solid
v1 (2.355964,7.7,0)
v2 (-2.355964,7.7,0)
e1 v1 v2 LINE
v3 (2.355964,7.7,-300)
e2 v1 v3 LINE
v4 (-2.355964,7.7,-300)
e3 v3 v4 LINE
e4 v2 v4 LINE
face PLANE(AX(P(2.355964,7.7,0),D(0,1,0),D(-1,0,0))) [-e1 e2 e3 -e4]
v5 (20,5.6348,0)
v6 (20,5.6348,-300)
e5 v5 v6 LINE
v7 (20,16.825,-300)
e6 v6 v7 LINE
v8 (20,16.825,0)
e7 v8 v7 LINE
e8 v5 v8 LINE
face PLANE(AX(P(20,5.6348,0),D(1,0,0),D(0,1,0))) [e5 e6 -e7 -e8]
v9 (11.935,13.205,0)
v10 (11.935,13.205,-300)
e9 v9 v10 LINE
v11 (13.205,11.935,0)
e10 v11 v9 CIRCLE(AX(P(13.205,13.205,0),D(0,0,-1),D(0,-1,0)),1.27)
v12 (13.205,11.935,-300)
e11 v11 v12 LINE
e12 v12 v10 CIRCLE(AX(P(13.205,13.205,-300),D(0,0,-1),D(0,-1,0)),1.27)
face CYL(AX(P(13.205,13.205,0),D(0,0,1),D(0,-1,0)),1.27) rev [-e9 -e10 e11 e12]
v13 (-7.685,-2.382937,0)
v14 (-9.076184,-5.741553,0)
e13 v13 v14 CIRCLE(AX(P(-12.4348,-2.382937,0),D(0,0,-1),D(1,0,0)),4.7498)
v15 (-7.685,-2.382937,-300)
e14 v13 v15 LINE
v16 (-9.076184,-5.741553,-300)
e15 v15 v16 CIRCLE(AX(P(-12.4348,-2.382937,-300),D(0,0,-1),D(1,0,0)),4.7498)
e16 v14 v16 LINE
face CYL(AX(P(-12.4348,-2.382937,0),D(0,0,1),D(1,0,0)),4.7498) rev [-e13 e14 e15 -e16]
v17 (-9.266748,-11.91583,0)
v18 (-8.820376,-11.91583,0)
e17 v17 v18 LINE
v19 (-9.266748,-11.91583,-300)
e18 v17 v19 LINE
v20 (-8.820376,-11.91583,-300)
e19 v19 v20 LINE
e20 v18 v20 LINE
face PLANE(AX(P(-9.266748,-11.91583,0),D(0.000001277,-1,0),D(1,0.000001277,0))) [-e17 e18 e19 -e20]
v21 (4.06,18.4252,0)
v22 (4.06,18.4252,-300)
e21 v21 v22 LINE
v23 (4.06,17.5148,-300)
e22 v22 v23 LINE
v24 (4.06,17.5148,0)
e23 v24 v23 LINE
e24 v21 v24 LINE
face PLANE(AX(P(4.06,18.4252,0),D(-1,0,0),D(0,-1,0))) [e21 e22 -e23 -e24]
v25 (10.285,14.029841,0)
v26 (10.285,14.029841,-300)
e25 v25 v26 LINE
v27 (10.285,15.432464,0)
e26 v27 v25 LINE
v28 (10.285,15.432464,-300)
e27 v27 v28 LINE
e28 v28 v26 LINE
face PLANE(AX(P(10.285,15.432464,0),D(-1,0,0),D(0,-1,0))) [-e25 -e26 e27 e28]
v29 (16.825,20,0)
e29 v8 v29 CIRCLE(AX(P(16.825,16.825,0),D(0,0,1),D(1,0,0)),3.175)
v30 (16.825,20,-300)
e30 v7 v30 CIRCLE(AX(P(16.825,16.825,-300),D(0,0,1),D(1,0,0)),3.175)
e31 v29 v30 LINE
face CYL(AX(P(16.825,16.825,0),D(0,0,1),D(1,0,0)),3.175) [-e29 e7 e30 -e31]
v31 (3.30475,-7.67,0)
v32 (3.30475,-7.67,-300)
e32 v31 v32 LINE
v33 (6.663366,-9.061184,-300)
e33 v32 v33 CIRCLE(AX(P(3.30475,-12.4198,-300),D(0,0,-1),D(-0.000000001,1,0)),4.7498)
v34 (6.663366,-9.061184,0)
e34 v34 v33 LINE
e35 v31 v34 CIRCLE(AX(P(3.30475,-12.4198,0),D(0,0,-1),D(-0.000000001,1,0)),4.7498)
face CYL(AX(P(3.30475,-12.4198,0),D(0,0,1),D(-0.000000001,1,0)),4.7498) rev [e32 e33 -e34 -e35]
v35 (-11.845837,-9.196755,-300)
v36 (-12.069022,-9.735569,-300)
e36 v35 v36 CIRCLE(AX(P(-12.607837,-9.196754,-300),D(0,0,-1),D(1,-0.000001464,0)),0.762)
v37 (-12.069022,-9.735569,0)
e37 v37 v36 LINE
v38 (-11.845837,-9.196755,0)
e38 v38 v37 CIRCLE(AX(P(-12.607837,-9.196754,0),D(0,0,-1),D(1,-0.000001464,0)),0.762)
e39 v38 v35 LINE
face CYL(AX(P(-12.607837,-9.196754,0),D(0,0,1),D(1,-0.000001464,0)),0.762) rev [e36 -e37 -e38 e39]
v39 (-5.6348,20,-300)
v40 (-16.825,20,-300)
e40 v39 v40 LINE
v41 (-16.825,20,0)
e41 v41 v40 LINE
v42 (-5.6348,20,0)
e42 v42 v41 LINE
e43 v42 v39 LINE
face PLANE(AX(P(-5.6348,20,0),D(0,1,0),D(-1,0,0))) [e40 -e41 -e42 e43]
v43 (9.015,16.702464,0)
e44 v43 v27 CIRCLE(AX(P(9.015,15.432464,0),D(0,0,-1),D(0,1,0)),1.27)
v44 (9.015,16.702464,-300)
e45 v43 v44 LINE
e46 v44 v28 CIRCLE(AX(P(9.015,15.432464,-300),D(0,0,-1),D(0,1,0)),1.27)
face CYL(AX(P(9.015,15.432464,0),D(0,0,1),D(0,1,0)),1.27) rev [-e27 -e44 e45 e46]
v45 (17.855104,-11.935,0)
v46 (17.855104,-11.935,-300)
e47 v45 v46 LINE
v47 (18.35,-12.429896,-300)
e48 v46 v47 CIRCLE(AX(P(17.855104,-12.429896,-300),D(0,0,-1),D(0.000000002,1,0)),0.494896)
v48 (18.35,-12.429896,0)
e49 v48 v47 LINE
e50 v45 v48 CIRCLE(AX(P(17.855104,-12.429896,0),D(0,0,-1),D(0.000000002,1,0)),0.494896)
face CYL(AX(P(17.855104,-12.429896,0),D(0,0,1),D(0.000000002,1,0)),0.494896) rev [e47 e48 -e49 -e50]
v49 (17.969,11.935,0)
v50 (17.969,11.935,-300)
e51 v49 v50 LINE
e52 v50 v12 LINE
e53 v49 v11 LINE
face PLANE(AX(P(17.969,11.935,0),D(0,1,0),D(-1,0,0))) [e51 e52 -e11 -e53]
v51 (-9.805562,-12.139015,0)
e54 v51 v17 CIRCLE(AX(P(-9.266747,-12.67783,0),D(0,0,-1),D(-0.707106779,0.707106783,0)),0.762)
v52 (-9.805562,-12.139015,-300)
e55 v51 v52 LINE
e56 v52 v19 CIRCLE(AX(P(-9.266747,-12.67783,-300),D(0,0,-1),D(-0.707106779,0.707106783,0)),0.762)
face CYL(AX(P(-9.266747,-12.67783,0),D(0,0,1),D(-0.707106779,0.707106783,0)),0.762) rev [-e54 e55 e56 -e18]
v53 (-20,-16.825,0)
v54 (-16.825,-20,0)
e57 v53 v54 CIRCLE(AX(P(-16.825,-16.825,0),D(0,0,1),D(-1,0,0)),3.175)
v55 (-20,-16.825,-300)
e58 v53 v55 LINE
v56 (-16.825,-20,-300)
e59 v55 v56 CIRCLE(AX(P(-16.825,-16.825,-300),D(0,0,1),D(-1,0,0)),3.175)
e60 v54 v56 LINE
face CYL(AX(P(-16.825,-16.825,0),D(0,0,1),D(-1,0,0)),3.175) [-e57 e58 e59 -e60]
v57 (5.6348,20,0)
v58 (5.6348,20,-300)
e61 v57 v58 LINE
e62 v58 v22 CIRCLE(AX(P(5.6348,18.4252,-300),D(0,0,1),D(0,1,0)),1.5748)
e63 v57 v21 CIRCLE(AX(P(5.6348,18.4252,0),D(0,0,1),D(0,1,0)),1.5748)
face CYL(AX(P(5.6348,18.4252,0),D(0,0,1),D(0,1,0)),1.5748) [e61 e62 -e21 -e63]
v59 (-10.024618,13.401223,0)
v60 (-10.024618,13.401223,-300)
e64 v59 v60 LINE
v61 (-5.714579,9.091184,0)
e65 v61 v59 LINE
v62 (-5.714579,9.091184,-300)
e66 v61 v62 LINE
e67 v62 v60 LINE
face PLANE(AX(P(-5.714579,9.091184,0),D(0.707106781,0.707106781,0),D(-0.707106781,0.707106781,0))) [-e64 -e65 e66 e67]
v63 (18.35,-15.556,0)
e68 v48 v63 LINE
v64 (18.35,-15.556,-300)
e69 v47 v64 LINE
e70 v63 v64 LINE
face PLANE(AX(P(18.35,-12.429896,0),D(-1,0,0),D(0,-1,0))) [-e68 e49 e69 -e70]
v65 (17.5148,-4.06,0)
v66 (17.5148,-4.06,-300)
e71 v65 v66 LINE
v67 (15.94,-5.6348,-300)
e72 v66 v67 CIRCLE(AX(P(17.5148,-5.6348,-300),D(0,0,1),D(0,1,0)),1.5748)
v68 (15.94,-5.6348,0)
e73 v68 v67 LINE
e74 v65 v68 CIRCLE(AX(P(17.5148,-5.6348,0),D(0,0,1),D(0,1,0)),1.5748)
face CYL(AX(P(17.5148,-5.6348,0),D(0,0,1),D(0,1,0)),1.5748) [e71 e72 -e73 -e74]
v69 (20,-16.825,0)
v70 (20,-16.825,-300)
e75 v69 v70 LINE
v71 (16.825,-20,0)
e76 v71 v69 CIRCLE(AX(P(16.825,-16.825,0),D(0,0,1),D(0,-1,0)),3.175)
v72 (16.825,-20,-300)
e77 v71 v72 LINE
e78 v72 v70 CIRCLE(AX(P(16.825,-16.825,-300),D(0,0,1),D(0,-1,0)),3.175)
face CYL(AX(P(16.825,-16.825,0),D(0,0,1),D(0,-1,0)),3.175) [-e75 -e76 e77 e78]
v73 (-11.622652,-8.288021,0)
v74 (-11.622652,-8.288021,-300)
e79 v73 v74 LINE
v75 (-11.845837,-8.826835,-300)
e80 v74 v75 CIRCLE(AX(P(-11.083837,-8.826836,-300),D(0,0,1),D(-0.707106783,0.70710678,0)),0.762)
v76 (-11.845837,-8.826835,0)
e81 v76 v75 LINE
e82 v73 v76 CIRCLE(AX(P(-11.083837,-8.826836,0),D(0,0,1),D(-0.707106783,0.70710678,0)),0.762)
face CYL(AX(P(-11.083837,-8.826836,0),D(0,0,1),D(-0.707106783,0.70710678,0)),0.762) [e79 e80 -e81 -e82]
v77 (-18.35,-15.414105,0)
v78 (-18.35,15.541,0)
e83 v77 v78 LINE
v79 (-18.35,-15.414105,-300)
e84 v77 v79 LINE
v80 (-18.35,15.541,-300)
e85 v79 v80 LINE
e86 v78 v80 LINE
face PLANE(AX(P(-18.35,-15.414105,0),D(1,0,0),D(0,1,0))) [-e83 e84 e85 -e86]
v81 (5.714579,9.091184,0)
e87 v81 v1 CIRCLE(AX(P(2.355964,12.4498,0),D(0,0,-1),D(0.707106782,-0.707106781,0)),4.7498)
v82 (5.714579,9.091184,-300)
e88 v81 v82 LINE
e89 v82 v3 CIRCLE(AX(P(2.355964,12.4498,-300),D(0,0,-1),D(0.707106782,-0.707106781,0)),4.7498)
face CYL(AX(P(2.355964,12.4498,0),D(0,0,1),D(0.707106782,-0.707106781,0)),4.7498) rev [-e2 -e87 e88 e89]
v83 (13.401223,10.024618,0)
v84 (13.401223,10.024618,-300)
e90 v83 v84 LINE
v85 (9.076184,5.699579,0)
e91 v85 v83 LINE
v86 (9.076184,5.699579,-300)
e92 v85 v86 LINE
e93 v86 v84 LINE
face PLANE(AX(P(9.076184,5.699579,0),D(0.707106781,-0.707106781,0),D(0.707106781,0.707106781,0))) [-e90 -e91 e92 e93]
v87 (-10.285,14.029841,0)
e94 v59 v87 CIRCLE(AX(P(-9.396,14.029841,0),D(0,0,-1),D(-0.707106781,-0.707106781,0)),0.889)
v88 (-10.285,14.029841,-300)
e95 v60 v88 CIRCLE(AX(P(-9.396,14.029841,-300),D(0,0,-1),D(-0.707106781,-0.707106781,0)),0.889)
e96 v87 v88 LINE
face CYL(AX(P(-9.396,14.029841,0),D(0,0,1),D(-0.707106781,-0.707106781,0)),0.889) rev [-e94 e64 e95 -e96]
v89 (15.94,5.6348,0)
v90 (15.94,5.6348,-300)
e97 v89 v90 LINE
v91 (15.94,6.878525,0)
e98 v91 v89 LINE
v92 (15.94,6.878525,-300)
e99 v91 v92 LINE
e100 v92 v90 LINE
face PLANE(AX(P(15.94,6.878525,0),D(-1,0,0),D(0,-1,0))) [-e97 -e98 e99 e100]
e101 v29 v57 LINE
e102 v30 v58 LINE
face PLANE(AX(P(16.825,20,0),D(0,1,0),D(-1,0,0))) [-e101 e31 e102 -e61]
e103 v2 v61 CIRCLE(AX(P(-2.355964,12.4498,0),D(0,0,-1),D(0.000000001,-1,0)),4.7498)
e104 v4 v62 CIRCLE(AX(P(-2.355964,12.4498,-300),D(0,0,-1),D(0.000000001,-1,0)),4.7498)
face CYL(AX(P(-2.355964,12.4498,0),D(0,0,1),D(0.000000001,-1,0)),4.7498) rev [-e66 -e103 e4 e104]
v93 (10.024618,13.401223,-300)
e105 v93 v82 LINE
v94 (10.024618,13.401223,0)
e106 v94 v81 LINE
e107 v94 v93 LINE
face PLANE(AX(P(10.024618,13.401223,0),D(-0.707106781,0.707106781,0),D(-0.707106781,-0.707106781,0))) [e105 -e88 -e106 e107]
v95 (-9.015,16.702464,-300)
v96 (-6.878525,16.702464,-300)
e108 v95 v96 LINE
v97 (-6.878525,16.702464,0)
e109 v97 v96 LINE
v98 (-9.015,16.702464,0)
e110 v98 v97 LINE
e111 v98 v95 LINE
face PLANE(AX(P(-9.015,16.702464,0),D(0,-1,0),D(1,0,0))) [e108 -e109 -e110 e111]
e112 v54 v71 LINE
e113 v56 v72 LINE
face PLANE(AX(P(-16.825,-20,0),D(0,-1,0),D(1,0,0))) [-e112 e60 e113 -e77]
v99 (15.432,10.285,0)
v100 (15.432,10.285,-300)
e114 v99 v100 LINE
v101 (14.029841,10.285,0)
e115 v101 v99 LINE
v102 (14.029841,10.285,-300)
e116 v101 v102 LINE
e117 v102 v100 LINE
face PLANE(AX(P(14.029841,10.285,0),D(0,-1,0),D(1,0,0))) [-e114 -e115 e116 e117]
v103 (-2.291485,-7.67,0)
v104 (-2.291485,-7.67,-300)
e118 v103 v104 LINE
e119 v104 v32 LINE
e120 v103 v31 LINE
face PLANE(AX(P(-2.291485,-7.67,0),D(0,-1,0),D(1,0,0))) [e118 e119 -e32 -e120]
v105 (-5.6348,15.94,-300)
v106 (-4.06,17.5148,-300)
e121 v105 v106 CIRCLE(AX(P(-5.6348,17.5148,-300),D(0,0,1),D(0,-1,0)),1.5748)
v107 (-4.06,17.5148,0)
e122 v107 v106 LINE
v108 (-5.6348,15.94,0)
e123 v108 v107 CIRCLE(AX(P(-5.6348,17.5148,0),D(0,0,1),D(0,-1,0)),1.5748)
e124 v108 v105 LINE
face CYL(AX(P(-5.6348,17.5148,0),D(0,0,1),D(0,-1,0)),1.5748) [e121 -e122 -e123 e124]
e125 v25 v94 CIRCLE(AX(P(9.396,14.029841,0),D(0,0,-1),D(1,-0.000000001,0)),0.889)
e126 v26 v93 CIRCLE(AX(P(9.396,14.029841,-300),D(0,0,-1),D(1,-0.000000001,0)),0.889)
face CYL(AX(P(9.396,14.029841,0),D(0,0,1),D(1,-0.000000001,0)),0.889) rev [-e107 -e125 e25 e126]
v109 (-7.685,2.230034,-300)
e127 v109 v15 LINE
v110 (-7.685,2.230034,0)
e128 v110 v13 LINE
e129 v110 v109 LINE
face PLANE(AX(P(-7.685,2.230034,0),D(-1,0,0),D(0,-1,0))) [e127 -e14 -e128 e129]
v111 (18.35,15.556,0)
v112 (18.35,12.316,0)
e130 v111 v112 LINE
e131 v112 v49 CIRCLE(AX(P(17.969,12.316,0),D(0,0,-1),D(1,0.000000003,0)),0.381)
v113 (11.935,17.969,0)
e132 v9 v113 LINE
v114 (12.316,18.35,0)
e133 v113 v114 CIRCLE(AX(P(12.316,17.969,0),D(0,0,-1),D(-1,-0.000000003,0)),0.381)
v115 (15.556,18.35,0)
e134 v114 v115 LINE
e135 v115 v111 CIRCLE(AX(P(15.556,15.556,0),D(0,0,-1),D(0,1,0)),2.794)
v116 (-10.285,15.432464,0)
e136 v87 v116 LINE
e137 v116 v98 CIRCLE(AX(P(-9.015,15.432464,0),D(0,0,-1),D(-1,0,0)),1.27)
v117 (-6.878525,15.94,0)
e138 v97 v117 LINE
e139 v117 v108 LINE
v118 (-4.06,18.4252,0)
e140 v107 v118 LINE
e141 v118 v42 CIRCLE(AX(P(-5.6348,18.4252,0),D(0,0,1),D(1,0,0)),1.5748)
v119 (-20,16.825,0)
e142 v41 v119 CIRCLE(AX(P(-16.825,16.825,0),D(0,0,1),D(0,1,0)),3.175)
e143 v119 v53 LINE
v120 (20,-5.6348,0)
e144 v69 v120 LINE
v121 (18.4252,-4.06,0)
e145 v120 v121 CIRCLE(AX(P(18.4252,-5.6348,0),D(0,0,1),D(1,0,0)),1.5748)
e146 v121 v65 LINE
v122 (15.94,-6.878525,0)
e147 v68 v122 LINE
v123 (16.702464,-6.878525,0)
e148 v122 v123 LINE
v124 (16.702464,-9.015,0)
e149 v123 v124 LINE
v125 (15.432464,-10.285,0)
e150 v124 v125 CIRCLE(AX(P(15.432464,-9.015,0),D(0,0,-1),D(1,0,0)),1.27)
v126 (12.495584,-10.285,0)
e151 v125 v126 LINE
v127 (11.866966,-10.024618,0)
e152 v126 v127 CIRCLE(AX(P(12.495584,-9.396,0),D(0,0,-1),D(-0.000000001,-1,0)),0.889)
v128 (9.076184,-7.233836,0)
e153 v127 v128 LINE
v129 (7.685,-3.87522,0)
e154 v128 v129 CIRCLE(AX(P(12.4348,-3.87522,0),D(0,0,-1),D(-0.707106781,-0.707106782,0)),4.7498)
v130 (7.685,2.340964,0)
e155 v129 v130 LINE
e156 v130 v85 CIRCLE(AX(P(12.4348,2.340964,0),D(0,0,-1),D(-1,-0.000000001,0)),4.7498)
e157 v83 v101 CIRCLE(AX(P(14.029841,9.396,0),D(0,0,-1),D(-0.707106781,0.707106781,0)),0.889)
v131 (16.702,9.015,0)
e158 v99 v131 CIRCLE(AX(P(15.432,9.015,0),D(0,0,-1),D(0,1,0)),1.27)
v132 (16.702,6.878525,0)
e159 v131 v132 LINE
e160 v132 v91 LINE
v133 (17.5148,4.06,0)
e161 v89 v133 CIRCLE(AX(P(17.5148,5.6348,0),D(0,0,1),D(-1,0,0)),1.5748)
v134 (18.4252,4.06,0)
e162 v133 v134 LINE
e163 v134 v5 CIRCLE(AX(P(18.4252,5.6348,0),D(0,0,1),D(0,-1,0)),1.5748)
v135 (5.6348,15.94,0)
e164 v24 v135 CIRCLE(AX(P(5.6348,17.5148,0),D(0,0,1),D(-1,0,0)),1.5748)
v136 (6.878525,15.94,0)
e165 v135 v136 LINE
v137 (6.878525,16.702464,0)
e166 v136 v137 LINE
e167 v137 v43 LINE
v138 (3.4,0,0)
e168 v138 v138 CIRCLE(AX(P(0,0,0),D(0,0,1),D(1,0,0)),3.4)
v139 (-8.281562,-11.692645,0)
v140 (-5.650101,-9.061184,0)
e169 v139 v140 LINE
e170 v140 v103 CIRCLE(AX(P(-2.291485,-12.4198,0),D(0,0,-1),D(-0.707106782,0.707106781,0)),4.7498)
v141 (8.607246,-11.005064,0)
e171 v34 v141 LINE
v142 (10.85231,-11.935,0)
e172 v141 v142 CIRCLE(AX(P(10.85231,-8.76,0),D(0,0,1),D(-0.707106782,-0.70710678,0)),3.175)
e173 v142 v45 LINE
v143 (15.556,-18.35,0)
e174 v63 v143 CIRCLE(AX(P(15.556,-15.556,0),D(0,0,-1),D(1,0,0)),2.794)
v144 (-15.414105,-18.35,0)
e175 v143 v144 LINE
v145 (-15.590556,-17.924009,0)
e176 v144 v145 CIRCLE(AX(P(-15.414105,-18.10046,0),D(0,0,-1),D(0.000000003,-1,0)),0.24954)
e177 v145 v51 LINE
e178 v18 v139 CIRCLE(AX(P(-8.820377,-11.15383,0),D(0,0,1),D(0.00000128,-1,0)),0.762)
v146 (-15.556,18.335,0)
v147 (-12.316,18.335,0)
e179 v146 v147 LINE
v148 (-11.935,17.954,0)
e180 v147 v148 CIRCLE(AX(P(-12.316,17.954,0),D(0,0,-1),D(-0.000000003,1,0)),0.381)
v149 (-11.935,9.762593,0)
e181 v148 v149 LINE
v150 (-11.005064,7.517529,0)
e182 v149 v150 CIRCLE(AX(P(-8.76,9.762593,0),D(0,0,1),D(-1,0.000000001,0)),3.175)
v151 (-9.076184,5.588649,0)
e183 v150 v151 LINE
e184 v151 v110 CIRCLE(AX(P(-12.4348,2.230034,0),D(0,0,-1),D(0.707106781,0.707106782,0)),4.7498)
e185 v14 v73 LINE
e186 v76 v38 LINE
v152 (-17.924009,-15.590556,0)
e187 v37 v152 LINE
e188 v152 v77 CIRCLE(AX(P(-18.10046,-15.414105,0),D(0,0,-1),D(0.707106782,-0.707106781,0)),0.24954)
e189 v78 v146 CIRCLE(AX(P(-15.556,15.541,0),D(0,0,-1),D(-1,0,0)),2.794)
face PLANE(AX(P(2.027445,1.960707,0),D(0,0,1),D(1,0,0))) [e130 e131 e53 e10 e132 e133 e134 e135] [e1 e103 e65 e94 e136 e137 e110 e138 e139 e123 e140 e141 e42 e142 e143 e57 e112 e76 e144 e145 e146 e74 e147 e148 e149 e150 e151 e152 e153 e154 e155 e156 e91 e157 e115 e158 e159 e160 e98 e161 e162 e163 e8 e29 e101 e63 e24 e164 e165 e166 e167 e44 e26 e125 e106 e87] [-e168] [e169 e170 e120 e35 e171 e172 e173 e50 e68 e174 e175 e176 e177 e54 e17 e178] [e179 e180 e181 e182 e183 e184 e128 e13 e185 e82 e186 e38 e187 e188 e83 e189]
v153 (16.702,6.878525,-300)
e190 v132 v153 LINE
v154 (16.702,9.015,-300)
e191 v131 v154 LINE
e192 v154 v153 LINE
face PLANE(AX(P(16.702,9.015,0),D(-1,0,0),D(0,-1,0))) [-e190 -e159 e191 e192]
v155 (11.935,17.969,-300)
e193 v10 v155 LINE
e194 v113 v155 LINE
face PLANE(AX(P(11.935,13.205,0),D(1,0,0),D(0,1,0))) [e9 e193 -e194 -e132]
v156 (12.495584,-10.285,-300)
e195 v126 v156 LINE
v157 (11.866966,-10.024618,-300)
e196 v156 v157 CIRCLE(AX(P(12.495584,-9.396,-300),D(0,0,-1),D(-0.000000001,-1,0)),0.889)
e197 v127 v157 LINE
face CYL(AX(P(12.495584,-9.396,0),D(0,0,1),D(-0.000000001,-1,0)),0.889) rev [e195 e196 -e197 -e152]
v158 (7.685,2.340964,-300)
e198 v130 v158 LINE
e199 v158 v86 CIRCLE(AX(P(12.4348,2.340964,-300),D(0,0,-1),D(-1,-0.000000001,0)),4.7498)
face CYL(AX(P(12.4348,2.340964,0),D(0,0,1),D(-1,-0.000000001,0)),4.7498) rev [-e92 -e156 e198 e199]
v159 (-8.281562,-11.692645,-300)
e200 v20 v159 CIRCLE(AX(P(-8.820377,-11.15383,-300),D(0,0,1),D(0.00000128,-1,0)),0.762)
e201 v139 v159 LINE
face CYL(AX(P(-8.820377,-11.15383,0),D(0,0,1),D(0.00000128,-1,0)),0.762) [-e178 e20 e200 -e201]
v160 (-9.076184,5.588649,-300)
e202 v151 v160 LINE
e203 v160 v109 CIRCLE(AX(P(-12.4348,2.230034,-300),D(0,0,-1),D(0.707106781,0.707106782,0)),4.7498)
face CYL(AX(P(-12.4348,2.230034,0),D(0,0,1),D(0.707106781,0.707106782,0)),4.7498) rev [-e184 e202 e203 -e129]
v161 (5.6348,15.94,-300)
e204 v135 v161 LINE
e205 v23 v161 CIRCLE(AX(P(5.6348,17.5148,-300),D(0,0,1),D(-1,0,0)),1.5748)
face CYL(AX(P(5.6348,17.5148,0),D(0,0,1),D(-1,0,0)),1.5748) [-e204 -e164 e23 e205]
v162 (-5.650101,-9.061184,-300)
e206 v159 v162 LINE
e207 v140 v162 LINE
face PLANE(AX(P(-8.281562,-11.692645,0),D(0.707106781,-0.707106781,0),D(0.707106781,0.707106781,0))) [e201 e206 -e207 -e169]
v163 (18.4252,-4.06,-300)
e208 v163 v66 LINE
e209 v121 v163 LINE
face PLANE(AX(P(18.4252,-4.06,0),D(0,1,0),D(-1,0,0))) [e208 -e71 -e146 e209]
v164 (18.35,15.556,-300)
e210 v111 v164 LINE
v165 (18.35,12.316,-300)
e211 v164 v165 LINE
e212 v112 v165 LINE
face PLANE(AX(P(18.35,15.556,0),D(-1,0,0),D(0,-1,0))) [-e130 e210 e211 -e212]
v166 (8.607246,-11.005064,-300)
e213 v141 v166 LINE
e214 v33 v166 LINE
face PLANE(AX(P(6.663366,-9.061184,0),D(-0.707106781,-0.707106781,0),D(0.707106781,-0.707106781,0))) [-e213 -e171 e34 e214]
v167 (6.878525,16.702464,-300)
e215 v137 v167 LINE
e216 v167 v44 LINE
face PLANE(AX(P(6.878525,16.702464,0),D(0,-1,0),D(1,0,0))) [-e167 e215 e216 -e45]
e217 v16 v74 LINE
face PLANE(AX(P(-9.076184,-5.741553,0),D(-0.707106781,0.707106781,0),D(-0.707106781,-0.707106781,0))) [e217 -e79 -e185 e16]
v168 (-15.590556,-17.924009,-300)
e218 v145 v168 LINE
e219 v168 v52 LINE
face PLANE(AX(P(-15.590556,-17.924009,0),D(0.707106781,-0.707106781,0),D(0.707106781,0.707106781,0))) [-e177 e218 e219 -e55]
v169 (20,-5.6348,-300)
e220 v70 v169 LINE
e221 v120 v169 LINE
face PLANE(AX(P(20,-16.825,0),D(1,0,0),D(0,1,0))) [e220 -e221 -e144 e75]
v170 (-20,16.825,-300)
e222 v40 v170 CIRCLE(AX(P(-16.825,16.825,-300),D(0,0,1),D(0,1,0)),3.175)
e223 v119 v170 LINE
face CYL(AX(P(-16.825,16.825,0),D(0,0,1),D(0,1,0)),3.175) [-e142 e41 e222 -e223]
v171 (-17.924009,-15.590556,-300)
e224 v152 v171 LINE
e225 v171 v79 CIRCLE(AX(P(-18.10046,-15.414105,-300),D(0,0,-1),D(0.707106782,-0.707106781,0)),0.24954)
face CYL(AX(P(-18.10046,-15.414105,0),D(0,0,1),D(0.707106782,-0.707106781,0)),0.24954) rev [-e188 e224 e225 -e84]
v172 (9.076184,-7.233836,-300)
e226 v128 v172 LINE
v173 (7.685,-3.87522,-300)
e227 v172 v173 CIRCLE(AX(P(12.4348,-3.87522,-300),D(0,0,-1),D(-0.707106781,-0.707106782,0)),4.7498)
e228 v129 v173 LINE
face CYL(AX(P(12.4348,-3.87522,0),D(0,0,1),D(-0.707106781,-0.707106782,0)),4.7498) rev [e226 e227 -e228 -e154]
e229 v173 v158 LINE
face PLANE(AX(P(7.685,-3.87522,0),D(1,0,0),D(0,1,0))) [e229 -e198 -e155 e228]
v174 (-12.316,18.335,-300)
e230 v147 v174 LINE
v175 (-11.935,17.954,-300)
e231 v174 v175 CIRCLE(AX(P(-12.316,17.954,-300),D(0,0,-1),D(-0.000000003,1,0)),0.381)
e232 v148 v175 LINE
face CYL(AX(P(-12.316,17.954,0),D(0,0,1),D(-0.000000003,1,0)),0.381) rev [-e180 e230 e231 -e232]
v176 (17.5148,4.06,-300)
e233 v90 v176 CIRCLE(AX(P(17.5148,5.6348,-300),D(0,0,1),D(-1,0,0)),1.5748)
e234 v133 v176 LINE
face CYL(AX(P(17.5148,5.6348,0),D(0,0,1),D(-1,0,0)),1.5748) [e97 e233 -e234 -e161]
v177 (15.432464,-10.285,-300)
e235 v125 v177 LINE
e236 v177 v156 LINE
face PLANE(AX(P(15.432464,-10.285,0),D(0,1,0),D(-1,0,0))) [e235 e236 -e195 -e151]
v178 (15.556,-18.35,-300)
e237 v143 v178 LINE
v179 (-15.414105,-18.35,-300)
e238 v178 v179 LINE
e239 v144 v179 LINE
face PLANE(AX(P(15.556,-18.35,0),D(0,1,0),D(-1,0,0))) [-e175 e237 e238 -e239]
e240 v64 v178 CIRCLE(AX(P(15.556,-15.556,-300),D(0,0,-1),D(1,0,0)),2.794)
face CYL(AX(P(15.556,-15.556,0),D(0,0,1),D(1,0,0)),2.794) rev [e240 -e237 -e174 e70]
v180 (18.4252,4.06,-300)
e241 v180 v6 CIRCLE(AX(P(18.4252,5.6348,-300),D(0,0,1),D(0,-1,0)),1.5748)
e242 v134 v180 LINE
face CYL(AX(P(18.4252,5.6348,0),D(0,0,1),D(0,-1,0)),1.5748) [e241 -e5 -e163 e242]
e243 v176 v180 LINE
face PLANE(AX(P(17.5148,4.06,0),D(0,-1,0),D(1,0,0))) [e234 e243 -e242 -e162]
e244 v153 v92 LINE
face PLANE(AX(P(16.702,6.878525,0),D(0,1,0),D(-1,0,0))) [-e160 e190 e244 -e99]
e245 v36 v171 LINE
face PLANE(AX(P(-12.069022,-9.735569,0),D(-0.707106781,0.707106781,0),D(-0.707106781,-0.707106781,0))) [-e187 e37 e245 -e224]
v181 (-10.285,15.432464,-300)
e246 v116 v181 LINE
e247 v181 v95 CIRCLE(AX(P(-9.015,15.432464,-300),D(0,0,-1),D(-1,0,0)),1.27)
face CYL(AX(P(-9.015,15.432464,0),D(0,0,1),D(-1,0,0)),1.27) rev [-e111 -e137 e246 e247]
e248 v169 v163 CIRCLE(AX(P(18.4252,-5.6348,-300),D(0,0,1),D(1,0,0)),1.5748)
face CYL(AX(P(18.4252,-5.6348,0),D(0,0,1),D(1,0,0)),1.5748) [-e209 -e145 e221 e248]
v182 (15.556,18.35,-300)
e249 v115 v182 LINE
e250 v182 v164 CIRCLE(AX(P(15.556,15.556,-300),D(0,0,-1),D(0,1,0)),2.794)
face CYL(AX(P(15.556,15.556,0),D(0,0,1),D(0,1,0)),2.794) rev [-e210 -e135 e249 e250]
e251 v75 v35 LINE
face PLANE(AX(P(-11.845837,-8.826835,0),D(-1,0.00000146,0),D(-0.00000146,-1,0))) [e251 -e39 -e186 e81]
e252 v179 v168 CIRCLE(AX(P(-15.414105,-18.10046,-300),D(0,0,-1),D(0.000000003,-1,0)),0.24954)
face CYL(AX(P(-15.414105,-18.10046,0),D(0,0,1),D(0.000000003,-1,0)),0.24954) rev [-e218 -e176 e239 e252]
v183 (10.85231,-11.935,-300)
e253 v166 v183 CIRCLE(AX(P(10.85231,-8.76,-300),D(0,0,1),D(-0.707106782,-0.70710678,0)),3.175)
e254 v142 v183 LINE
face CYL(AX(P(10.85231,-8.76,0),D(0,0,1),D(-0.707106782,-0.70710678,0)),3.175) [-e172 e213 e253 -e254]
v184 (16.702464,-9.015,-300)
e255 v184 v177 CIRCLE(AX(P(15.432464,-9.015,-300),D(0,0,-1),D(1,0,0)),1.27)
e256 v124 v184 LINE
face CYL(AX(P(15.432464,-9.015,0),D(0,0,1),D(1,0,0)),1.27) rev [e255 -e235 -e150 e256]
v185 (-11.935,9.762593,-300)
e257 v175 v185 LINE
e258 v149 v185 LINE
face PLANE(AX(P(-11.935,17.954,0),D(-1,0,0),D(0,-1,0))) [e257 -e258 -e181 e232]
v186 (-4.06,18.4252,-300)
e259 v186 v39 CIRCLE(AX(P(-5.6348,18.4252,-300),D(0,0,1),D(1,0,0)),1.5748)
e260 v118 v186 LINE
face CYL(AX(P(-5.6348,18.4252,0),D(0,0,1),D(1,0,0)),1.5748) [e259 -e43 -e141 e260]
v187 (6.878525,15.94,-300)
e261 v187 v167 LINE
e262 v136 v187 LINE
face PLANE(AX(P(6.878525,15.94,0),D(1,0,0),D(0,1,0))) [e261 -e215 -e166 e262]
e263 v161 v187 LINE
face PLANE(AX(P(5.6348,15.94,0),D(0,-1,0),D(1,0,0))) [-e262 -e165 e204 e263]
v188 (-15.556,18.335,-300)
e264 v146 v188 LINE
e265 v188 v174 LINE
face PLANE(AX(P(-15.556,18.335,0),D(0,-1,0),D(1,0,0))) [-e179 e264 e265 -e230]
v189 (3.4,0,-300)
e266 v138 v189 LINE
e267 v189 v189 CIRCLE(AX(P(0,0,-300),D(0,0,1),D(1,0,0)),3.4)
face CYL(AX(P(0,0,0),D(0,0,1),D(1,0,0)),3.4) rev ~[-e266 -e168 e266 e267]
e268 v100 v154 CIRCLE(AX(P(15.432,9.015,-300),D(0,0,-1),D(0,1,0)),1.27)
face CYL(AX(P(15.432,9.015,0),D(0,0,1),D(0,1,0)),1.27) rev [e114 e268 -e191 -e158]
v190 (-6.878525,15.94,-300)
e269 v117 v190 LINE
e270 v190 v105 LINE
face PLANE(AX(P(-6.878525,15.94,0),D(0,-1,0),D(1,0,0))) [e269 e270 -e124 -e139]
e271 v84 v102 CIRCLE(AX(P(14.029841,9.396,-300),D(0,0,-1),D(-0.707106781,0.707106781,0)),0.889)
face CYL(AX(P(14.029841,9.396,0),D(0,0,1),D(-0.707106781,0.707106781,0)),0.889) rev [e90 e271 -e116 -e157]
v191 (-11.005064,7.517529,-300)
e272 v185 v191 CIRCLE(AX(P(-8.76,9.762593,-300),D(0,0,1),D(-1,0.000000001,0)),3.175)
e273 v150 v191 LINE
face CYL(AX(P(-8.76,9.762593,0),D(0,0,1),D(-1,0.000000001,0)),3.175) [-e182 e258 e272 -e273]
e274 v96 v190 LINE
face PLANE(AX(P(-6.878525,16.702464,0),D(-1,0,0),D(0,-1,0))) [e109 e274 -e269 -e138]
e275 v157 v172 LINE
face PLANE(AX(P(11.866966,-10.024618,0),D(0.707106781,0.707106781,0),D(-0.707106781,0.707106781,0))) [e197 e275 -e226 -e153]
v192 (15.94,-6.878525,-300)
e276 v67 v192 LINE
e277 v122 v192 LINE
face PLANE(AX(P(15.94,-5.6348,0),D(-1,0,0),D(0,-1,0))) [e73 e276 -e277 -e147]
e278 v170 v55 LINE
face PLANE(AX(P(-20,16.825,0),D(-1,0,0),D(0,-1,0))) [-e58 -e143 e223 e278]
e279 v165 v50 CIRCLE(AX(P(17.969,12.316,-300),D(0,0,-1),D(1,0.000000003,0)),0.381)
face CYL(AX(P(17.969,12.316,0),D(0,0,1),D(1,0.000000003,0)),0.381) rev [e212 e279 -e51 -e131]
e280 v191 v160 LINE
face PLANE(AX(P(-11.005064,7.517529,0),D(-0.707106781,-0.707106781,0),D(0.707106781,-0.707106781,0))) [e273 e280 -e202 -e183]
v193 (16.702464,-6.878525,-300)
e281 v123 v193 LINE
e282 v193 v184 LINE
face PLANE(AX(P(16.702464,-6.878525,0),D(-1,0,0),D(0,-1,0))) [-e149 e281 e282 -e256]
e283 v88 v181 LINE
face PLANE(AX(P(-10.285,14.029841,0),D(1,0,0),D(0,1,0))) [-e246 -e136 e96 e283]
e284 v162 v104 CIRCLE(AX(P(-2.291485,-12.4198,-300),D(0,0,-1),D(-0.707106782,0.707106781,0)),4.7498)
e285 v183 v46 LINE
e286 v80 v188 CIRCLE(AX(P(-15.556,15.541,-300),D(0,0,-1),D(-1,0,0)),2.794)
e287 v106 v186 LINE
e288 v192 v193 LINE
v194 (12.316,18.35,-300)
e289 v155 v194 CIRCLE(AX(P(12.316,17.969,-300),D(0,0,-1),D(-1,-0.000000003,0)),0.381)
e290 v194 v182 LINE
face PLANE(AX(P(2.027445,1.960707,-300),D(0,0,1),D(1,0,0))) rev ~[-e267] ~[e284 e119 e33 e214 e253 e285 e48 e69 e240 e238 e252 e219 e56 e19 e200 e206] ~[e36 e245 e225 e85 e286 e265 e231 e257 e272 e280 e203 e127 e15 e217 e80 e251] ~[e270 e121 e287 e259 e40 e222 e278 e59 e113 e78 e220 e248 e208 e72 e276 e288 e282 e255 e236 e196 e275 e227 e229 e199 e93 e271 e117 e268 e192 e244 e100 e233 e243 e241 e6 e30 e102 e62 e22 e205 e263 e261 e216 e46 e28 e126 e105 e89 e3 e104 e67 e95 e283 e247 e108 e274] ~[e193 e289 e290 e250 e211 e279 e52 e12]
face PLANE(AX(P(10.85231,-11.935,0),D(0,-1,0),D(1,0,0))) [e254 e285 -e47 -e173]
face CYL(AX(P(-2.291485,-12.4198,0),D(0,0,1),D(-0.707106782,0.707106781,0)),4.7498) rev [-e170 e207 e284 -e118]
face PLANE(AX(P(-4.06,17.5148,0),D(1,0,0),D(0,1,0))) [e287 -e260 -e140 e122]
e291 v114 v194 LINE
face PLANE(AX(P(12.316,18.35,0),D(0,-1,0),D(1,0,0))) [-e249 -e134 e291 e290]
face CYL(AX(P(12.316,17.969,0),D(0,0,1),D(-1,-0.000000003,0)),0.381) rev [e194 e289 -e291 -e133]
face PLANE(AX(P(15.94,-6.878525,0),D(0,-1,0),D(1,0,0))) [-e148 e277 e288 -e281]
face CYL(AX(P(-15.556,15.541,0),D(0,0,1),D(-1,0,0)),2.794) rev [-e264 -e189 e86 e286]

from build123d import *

# Parameters (mm, degrees)
SKETCH1_R      = 3.4
EXTRUDE1_DEPTH = 300


with BuildPart() as part:
    # Sketch1 → Extrude1 (new body)
    with BuildSketch(Plane.XY):
        with BuildLine():
            Line((2.355963526, 7.7), (-2.355963526, 7.7))
            ThreePointArc((-2.355963526, 7.7), (-4.173633293, 8.061556996), (-5.714579315, 9.091184211))
            Line((-5.714579315, 9.091184211), (-10.024617928, 13.401222824))
            ThreePointArc((-10.024617928, 13.401222824), (-10.217328904, 13.689635181), (-10.285, 14.029840753))
            Line((-10.285, 14.029840753), (-10.285, 15.432464473))
            ThreePointArc((-10.285, 15.432464473), (-9.913025612, 16.330490085), (-9.015, 16.702464473))
            Line((-9.015, 16.702464473), (-6.878524829, 16.702464473))
            Line((-6.878524829, 16.702464473), (-6.878524829, 15.94))
            Line((-6.878524829, 15.94), (-5.6348, 15.94))
            ThreePointArc((-5.6348, 15.94), (-4.521248241, 16.401248241), (-4.06, 17.5148))
            Line((-4.06, 17.5148), (-4.06, 18.4252))
            ThreePointArc((-4.06, 18.4252), (-4.521248241, 19.538751759), (-5.6348, 20))
            Line((-5.6348, 20), (-13.185697325, 20))
            Line((-13.185697325, 20), (-16.825, 20))
            ThreePointArc((-16.825, 20), (-19.07006403, 19.07006403), (-20, 16.825))
            Line((-20, 16.825), (-20, -16.825))
            ThreePointArc((-20, -16.825), (-19.07006403, -19.07006403), (-16.825, -20))
            Line((-16.825, -20), (0, -20))
            Line((0, -20), (16.825, -20))
            ThreePointArc((16.825, -20), (19.07006403, -19.07006403), (20, -16.825))
            Line((20, -16.825), (20, -13.049478217))
            Line((20, -13.049478217), (20, -5.6348))
            ThreePointArc((20, -5.6348), (19.538751759, -4.521248241), (18.4252, -4.06))
            Line((18.4252, -4.06), (17.5148, -4.06))
            ThreePointArc((17.5148, -4.06), (16.401248241, -4.521248241), (15.94, -5.6348))
            Line((15.94, -5.6348), (15.94, -6.878524829))
            Line((15.94, -6.878524829), (16.702464473, -6.878524829))
            Line((16.702464473, -6.878524829), (16.702464473, -9.015))
            ThreePointArc((16.702464473, -9.015), (16.330490085, -9.913025612), (15.432464473, -10.285))
            Line((15.432464473, -10.285), (12.495583974, -10.285))
            ThreePointArc((12.495583974, -10.285), (12.155378402, -10.217328904), (11.866966045, -10.024617928))
            Line((11.866966045, -10.024617928), (9.076184211, -7.233836094))
            ThreePointArc((9.076184211, -7.233836094), (8.046556996, -5.692890072), (7.685, -3.875220305))
            Line((7.685, -3.875220305), (7.685, 2.340963526))
            ThreePointArc((7.685, 2.340963526), (8.046556996, 4.158633293), (9.076184211, 5.699579315))
            Line((9.076184211, 5.699579315), (13.401222824, 10.024617928))
            ThreePointArc((13.401222824, 10.024617928), (13.689635181, 10.217328904), (14.029840753, 10.285))
            Line((14.029840753, 10.285), (15.432, 10.285))
            ThreePointArc((15.432, 10.285), (16.330025612, 9.913025612), (16.702, 9.015))
            Line((16.702, 9.015), (16.702, 6.878524829))
            Line((16.702, 6.878524829), (15.94, 6.878524829))
            Line((15.94, 6.878524829), (15.94, 5.6348))
            ThreePointArc((15.94, 5.6348), (16.401248241, 4.521248241), (17.5148, 4.06))
            Line((17.5148, 4.06), (18.4252, 4.06))
            ThreePointArc((18.4252, 4.06), (19.538751759, 4.521248241), (20, 5.6348))
            Line((20, 5.6348), (20, 12.980521783))
            Line((20, 12.980521783), (20, 16.825))
            ThreePointArc((20, 16.825), (19.07006403, 19.07006403), (16.825, 20))
            Line((16.825, 20), (13.070898915, 20))
            Line((13.070898915, 20), (5.6348, 20))
            ThreePointArc((5.6348, 20), (4.521248241, 19.538751759), (4.06, 18.4252))
            Line((4.06, 18.4252), (4.06, 17.5148))
            ThreePointArc((4.06, 17.5148), (4.521248241, 16.401248241), (5.6348, 15.94))
            Line((5.6348, 15.94), (6.878524829, 15.94))
            Line((6.878524829, 15.94), (6.878524829, 16.702464473))
            Line((6.878524829, 16.702464473), (9.015, 16.702464473))
            ThreePointArc((9.015, 16.702464473), (9.913025612, 16.330490085), (10.285, 15.432464473))
            Line((10.285, 15.432464473), (10.285, 14.029840753))
            ThreePointArc((10.285, 14.029840753), (10.217328904, 13.689635181), (10.024617928, 13.401222824))
            Line((10.024617928, 13.401222824), (5.714579315, 9.091184211))
            ThreePointArc((5.714579315, 9.091184211), (4.173633293, 8.061556996), (2.355963526, 7.7))
        make_face()
        Circle(SKETCH1_R, mode=Mode.SUBTRACT)
        with BuildLine():
            Line((-2.291485309, -7.67), (3.30475018, -7.67))
            ThreePointArc((3.30475018, -7.67), (5.122419947, -8.031556996), (6.663365969, -9.061184211))
            Line((6.663365969, -9.061184211), (8.607245789, -11.00506403))
            ThreePointArc((8.607245789, -11.00506403), (9.637289921, -11.693317516), (10.852309819, -11.935))
            Line((10.852309819, -11.935), (17.855103644, -11.935))
            ThreePointArc((17.855103644, -11.935), (18.205048213, -12.079951787), (18.35, -12.429896356))
            Line((18.35, -12.429896356), (18.35, -15.556))
            ThreePointArc((18.35, -15.556), (17.531656347, -17.531656347), (15.556, -18.35))
            Line((15.556, -18.35), (0, -18.35))
            Line((0, -18.35), (-15.414104785, -18.35))
            ThreePointArc((-15.414104785, -18.35), (-15.644649678, -18.195954828), (-15.590556207, -17.924008585))
            Line((-15.590556207, -17.924008585), (-9.805562467, -12.139014844))
            ThreePointArc((-9.805562467, -12.139014844), (-9.558352324, -11.973834194), (-9.266748072, -11.915830212))
            Line((-9.266748072, -11.915830212), (-8.820376291, -11.915829642))
            ThreePointArc((-8.820376291, -11.915829642), (-8.528772039, -11.857825659), (-8.281561897, -11.692645009))
            Line((-8.281561897, -11.692645009), (-5.650101098, -9.061184211))
            ThreePointArc((-5.650101098, -9.061184211), (-4.109155076, -8.031556996), (-2.291485309, -7.67))
        make_face(mode=Mode.SUBTRACT)
        with BuildLine():
            Line((-9.076184211, -5.741552749), (-11.62265199, -8.288020528))
            ThreePointArc((-11.62265199, -8.288020528), (-11.787832613, -8.535230605), (-11.845836623, -8.826834781))
            Line((-11.845836623, -8.826834781), (-11.845837163, -9.196755164))
            ThreePointArc((-11.845837163, -9.196755164), (-11.903841173, -9.488359341), (-12.069021796, -9.735569418))
            Line((-12.069021796, -9.735569418), (-17.924008585, -15.590556207))
            ThreePointArc((-17.924008585, -15.590556207), (-18.195954828, -15.644649678), (-18.35, -15.414104785))
            Line((-18.35, -15.414104785), (-18.35, 15.541))
            ThreePointArc((-18.35, 15.541), (-17.531656347, 17.516656347), (-15.556, 18.335))
            Line((-15.556, 18.335), (-12.316, 18.335))
            ThreePointArc((-12.316, 18.335), (-12.046592316, 18.223407684), (-11.935, 17.954))
            Line((-11.935, 17.954), (-11.935, 9.762593298))
            ThreePointArc((-11.935, 9.762593298), (-11.693317516, 8.5475734), (-11.00506403, 7.517529268))
            Line((-11.00506403, 7.517529268), (-9.076184211, 5.588649448))
            ThreePointArc((-9.076184211, 5.588649448), (-8.046556996, 4.047703426), (-7.685, 2.230033659))
            Line((-7.685, 2.230033659), (-7.685, -2.382936959))
            ThreePointArc((-7.685, -2.382936959), (-8.046556996, -4.200606726), (-9.076184211, -5.741552749))
        make_face(mode=Mode.SUBTRACT)
        with BuildLine():
            Line((18.35, 15.556), (18.35, 12.316))
            ThreePointArc((18.35, 12.316), (18.238407684, 12.046592316), (17.969, 11.935))
            Line((17.969, 11.935), (13.205, 11.935))
            ThreePointArc((13.205, 11.935), (12.306974388, 12.306974388), (11.935, 13.205))
            Line((11.935, 13.205), (11.935, 17.969))
            ThreePointArc((11.935, 17.969), (12.046592316, 18.238407684), (12.316, 18.35))
            Line((12.316, 18.35), (15.556, 18.35))
            ThreePointArc((15.556, 18.35), (17.531656347, 17.531656347), (18.35, 15.556))
        make_face(mode=Mode.SUBTRACT)
    extrude(amount=-EXTRUDE1_DEPTH)


solid = part.part
